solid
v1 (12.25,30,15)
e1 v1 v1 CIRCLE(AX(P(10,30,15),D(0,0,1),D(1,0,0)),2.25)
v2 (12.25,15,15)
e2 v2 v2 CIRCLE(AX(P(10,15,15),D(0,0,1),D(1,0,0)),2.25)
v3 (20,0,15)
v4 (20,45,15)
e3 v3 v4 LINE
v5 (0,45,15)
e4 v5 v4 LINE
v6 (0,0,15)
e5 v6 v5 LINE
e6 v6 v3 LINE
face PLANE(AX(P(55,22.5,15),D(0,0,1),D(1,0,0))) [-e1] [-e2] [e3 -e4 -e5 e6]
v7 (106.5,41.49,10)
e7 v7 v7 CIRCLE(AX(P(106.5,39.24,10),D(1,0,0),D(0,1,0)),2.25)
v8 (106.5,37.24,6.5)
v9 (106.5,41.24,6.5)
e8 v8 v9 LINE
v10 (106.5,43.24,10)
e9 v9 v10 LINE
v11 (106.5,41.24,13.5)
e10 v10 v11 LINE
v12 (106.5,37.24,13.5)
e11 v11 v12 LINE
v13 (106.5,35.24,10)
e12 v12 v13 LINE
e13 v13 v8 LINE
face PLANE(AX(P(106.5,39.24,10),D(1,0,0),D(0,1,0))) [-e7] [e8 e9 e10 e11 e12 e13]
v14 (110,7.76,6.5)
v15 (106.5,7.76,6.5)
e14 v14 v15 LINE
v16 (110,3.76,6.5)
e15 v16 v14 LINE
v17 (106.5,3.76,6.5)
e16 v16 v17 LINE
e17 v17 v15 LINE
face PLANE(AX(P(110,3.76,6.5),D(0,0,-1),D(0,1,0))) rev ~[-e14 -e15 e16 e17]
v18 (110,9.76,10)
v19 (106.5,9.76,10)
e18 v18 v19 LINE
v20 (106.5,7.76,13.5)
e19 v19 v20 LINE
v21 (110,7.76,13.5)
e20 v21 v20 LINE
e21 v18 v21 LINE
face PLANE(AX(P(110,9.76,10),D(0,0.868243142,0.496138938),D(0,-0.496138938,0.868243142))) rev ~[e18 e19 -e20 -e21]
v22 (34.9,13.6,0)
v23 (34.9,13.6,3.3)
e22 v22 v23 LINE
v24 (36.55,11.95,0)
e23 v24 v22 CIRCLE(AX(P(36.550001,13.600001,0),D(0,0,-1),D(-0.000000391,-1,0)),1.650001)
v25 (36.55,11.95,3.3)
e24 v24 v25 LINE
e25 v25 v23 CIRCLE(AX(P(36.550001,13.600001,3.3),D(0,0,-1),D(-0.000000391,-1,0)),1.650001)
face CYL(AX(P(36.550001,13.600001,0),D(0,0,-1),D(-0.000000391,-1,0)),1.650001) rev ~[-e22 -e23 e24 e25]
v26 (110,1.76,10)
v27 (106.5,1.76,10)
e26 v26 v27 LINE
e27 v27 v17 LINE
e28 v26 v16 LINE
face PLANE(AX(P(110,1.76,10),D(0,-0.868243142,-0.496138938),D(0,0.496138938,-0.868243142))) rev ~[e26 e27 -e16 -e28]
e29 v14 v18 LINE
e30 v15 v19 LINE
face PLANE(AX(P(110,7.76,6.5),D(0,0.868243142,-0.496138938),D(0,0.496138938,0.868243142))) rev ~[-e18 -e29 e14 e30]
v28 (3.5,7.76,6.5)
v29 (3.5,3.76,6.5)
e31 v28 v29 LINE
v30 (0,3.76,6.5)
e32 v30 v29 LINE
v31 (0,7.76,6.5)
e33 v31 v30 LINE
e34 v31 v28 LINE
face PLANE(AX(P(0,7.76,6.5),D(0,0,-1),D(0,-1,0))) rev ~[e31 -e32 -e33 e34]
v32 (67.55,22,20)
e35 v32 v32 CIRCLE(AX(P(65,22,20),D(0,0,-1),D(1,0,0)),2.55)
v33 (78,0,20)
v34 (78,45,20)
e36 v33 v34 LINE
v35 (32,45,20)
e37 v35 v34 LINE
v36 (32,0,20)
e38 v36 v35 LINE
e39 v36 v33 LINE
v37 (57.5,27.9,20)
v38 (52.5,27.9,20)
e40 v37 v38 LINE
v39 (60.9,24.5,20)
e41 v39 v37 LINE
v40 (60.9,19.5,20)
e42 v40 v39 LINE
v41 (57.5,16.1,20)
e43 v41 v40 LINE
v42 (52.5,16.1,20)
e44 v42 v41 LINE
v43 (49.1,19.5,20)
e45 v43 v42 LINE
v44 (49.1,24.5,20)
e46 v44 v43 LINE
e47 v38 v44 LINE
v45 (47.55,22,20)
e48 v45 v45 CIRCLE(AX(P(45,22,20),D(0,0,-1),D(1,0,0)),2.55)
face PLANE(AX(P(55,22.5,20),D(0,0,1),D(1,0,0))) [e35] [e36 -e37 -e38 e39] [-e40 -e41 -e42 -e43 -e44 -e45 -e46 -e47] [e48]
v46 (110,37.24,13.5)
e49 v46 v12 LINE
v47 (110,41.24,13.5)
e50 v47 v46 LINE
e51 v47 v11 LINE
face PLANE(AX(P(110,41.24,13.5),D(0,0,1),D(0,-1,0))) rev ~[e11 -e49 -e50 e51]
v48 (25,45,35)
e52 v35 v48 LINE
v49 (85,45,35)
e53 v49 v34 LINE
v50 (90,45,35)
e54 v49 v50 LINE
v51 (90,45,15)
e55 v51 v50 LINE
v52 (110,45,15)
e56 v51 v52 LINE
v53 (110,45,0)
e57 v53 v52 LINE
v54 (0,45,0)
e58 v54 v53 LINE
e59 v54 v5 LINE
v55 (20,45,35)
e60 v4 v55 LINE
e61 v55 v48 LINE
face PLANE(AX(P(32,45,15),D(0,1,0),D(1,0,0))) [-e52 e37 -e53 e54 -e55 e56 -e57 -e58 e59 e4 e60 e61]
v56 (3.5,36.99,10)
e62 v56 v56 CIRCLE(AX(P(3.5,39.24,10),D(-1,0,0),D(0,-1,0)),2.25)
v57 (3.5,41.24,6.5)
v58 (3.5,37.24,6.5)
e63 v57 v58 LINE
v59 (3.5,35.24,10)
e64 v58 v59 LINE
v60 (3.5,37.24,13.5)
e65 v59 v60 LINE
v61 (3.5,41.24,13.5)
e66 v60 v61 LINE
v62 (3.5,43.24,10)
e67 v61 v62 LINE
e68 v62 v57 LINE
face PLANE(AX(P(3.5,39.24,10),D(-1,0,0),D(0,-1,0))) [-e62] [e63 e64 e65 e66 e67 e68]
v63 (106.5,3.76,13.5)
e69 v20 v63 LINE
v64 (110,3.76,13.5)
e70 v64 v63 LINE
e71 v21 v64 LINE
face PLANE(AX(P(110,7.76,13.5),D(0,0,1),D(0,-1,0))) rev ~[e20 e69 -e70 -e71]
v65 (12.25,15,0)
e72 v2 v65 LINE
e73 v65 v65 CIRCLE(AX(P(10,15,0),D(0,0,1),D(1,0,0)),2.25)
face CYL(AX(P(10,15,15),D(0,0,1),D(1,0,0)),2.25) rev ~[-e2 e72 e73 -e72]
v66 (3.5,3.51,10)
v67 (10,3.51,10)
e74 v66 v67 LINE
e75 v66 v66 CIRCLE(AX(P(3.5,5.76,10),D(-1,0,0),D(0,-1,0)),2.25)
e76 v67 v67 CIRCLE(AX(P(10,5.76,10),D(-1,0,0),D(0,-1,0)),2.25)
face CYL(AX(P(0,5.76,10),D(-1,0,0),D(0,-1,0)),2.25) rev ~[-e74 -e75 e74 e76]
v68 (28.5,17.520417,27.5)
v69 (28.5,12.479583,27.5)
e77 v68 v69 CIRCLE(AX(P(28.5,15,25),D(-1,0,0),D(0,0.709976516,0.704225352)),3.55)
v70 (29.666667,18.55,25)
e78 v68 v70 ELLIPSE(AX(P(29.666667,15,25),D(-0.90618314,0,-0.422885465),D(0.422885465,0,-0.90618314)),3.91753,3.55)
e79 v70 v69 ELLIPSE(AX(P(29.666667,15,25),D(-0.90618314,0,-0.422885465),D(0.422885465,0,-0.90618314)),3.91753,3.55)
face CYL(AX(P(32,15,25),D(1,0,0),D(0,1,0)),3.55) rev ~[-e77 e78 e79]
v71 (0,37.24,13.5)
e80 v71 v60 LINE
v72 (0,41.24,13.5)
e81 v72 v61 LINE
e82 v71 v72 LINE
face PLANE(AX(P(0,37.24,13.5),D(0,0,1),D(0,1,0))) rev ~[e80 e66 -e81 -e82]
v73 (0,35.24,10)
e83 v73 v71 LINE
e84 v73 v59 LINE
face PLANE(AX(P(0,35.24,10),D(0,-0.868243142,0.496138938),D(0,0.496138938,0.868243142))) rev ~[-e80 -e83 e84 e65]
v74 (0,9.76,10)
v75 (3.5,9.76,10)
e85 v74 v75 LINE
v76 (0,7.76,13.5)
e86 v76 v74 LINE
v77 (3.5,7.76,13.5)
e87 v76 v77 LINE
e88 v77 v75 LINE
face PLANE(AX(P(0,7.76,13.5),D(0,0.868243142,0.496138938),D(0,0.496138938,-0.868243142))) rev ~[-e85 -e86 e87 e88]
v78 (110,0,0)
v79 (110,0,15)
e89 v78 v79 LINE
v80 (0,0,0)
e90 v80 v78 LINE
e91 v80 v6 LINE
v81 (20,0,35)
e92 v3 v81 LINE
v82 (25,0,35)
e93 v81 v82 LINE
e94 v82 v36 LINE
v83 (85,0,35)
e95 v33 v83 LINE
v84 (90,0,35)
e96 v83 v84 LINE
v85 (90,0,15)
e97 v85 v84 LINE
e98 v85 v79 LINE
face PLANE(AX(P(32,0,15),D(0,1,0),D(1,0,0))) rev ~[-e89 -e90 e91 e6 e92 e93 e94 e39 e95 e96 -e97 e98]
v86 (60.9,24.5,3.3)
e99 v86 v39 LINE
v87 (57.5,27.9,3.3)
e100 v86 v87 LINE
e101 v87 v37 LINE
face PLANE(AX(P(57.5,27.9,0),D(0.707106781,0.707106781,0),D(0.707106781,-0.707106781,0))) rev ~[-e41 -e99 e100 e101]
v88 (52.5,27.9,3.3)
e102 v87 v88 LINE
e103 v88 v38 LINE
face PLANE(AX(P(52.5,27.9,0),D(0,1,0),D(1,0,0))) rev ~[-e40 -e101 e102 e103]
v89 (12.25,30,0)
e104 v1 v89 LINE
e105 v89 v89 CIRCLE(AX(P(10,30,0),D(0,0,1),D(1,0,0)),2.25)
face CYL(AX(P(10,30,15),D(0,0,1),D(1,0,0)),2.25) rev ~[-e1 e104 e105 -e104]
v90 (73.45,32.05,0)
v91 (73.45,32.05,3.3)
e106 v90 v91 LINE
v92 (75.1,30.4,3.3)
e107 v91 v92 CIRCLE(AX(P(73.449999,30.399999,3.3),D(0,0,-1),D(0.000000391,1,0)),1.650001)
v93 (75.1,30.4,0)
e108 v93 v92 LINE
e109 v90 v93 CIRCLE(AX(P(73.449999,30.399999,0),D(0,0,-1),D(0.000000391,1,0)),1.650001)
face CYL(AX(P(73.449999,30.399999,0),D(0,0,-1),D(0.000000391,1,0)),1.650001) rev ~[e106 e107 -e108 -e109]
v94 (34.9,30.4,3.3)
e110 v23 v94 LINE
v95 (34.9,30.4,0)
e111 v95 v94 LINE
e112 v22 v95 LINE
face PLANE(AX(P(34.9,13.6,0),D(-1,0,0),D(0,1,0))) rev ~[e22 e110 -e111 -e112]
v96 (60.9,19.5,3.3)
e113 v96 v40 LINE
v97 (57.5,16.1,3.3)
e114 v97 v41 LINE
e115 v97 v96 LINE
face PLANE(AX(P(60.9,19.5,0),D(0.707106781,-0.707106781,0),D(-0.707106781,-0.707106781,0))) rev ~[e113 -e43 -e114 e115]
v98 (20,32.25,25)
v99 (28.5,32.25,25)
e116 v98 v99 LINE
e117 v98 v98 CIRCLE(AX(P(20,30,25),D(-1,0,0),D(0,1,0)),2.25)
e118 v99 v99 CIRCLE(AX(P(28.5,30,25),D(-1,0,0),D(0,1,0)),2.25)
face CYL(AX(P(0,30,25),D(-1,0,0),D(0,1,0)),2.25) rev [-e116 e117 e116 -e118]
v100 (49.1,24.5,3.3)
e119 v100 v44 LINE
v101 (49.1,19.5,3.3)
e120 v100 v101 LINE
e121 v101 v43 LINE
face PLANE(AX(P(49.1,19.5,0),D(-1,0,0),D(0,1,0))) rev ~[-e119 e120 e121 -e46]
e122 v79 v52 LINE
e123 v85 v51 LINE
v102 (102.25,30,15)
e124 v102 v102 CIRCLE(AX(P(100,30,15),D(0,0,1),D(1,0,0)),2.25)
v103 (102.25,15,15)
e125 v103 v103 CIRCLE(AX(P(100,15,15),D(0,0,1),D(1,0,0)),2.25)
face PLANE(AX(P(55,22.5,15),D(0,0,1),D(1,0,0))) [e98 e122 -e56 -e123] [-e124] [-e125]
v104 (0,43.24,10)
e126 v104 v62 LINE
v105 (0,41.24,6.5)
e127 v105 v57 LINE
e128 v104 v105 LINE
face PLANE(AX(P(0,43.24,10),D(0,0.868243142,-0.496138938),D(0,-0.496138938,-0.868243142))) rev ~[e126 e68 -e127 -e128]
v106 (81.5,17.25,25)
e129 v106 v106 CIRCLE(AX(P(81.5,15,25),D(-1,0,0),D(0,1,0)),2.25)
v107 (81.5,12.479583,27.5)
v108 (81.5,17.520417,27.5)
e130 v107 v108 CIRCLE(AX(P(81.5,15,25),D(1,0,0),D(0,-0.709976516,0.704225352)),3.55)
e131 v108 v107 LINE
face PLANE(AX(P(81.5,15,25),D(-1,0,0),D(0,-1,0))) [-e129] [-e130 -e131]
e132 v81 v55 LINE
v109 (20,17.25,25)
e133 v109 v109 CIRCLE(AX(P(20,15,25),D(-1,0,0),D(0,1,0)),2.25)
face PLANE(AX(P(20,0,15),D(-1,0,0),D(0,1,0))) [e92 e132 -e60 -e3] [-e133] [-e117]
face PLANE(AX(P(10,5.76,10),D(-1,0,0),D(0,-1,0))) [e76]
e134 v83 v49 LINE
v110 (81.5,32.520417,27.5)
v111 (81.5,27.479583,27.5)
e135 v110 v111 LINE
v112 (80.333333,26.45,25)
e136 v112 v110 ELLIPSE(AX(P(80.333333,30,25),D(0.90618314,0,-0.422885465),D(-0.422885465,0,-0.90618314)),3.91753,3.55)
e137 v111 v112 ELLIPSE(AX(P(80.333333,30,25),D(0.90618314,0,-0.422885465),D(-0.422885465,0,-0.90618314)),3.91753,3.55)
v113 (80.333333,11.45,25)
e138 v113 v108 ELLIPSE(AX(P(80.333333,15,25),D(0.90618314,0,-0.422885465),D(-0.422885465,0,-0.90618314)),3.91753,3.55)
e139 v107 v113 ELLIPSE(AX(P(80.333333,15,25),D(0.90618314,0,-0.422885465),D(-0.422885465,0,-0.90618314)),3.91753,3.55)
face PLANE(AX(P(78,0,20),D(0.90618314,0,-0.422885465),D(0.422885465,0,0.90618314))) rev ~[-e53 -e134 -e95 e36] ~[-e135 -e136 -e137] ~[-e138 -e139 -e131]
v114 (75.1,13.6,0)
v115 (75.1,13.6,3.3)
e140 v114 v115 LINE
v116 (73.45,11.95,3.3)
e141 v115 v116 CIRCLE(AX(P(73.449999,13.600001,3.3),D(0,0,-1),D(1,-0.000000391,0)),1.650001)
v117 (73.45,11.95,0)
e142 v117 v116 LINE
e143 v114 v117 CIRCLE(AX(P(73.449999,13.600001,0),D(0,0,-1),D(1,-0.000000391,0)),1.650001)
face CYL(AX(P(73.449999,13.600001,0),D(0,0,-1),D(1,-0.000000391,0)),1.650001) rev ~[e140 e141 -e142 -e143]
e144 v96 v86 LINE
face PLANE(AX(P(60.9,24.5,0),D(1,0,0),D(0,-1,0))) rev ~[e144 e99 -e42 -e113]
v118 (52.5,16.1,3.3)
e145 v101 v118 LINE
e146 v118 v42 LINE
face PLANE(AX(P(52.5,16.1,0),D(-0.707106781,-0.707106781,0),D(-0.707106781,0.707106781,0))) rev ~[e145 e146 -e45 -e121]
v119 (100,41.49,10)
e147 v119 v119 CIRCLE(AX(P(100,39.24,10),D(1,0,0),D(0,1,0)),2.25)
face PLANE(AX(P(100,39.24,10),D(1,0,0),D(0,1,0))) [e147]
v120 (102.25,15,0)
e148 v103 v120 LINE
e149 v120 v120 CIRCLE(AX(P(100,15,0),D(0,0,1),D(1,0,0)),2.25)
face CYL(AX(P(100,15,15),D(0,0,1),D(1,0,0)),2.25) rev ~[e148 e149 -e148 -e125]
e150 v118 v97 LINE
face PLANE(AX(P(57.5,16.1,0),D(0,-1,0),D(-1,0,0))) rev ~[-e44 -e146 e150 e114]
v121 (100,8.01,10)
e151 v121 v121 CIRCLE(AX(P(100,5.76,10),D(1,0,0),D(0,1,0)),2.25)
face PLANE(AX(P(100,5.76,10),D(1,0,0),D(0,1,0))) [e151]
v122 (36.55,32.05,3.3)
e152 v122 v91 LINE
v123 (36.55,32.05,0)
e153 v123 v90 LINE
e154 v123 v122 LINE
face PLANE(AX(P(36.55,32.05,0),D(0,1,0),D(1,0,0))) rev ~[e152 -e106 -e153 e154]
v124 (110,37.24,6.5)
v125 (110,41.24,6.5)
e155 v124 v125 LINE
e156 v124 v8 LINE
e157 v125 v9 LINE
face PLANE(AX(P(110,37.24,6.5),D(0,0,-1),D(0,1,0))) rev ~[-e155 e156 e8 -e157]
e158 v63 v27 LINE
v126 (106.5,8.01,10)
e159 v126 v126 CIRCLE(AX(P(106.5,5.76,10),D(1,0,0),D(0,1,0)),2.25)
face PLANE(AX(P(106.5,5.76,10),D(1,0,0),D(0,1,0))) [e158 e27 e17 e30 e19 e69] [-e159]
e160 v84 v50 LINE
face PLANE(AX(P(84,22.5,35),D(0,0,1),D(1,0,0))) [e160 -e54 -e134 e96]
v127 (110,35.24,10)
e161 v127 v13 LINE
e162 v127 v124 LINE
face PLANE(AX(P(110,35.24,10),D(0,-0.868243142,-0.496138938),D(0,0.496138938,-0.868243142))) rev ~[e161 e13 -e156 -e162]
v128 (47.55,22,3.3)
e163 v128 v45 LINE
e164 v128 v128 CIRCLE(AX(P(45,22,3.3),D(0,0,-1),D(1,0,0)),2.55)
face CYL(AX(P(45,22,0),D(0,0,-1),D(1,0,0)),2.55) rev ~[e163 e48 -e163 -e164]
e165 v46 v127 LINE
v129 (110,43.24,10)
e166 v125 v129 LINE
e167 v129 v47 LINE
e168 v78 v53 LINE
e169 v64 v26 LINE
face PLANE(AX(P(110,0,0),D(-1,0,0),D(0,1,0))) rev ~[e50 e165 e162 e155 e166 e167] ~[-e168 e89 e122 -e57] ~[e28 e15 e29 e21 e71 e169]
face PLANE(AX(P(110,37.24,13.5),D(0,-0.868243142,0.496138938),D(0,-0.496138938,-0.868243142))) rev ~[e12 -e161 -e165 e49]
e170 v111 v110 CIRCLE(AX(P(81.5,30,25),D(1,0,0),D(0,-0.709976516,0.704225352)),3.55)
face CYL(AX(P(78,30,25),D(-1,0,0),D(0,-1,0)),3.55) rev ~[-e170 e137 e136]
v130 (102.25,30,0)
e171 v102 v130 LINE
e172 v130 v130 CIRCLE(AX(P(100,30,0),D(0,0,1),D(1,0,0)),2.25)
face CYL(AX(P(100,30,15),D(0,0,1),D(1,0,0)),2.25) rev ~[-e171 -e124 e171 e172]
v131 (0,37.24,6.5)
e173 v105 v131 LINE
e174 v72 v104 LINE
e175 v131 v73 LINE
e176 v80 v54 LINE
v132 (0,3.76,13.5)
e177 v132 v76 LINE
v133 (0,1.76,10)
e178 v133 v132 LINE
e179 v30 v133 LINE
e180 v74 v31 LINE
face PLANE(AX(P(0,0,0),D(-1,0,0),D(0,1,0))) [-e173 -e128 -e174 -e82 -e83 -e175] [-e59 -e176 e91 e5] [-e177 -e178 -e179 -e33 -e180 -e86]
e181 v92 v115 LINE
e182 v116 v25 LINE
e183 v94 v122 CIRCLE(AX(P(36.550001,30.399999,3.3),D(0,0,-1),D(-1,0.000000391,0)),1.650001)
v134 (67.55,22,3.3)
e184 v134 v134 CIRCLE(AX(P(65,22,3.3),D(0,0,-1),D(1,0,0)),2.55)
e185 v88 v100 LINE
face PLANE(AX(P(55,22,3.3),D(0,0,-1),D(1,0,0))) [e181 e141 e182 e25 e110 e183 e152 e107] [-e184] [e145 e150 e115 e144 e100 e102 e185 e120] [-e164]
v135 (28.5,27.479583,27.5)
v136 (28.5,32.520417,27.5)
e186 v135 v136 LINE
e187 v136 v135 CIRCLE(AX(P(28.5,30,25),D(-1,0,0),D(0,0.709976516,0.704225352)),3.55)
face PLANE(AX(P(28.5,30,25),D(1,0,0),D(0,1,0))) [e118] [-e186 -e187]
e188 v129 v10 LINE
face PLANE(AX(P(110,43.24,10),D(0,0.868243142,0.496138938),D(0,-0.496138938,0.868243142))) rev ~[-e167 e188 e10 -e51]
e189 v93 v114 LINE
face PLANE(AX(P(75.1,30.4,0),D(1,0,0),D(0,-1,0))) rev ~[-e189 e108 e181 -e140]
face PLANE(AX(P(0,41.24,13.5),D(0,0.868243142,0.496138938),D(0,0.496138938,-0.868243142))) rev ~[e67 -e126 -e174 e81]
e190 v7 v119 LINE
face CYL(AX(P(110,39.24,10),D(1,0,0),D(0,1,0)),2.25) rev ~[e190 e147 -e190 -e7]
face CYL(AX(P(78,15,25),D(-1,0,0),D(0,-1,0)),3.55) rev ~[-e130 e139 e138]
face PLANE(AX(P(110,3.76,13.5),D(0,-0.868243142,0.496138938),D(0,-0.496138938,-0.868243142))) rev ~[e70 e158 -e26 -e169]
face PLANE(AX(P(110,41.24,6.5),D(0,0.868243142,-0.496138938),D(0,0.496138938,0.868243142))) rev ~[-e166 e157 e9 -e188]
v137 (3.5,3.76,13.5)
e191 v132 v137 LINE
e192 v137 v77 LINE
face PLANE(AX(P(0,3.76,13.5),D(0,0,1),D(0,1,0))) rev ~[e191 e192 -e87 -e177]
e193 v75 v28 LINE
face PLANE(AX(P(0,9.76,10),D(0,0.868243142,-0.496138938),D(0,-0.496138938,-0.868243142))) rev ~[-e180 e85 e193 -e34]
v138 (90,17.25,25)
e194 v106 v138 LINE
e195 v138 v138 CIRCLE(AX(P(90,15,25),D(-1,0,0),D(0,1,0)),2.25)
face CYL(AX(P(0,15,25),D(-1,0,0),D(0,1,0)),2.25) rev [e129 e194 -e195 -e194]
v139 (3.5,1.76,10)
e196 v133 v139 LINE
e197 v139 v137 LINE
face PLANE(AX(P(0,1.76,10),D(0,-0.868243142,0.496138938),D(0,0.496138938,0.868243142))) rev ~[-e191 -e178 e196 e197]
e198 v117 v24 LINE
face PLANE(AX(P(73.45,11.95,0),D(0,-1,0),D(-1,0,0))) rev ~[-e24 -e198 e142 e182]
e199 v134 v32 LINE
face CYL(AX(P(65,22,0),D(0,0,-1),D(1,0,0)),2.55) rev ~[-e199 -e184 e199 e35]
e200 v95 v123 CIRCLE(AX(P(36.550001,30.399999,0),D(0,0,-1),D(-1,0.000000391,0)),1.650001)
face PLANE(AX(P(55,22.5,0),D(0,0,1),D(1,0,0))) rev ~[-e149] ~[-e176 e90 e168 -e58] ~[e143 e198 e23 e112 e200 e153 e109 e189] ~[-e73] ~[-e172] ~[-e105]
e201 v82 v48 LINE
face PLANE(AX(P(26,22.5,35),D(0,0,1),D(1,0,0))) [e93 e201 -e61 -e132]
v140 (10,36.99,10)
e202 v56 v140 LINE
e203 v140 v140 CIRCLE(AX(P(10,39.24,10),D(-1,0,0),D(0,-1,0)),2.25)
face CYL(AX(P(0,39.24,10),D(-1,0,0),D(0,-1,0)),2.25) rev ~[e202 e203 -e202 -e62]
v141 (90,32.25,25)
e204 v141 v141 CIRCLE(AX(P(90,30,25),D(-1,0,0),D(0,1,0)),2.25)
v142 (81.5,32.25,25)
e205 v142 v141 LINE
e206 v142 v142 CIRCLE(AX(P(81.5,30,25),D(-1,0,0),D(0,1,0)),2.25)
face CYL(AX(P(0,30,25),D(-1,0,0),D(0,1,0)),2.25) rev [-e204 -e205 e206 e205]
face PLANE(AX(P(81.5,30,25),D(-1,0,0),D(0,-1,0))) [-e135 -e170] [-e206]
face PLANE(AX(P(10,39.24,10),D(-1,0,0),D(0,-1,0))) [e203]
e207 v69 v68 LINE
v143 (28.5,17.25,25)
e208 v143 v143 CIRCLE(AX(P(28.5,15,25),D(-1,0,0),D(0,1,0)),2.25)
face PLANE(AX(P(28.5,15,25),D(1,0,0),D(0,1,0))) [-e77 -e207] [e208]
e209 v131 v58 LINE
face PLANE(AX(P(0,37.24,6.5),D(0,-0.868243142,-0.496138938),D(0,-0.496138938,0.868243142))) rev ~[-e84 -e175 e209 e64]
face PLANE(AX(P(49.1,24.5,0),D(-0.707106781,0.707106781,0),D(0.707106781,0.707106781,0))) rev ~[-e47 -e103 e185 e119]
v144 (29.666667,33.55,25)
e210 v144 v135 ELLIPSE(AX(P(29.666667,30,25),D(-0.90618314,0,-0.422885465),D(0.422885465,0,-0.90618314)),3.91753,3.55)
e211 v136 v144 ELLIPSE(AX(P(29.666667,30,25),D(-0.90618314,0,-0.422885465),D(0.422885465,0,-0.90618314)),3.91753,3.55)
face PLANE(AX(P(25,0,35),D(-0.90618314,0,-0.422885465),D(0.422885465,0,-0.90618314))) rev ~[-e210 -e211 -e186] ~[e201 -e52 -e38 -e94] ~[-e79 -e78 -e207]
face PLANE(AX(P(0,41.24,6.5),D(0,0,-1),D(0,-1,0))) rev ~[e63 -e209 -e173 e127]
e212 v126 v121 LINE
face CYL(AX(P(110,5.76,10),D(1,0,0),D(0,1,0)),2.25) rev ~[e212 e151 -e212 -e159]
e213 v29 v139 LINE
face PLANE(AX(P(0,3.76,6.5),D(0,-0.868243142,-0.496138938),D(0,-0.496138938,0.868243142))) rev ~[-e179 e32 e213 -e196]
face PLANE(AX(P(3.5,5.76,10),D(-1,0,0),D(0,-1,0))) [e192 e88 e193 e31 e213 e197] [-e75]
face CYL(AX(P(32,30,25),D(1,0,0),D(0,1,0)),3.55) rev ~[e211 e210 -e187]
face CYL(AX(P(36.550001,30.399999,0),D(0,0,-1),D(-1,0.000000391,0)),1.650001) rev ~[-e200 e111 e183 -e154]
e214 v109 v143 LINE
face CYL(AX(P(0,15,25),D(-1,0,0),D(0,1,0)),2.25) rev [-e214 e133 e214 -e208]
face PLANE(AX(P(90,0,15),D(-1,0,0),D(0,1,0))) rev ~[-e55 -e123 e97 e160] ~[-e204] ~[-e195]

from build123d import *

# Parameters (mm, degrees)
F0_W      = 110
F0_H      = 45
F1_DEPTH  = 15
F2_W      = 12
F2_H      = 45
F3_DEPTH  = 20
F4_R      = 2.25
F5_DEPTH  = 110.001
F6_R      = 2.25
F7_DEPTH  = 15.001
F8_R      = 2.25
F9_DEPTH  = 15.001
F10_R     = 3.55
F11_DEPTH = 3.5
F12_R     = 3.55
F13_DEPTH = 3.5
F3_FACE_W = 46
F3_FACE_H = 45
F14_DEPTH = 5
F16_DEPTH = 45.001
F17_R     = 2.55
F18_DEPTH = 35.001
F20_DEPTH = 3.3
F21_R     = 2.25
F22_DEPTH = 10
F24_DEPTH = 3.5
F25_R     = 2.25
F26_DEPTH = 10
F28_DEPTH = 3.5


with BuildPart() as f1:
    # F0 (on Top) → F1 (new body)
    with BuildSketch(Plane.XY):
        with Locations((55, 22.5)):
            Rectangle(F0_W, F0_H)
    extrude(amount=F1_DEPTH)

    # F2 (on face) → F3 (join)
    with BuildSketch(Plane.XY.offset(15)):
        with Locations((26, 22.5)):
            Rectangle(F2_W, F2_H)
        with Locations((84, 22.5)):
            Rectangle(F2_W, F2_H)
    extrude(amount=F3_DEPTH)

    # F4 (on Right) → F5 (cut, through all)
    with BuildSketch(Plane.YZ):
        with Locations((15, 25)):
            Circle(F4_R)
        with Locations((30, 25)):
            Circle(F4_R)
    extrude(amount=F5_DEPTH, mode=Mode.SUBTRACT)

    # F6 (on face) → F7 (cut, through all)
    with BuildSketch(Plane.XY.offset(15)):
        with Locations((10, 30)):
            Circle(F6_R)
        with Locations((10, 15)):
            Circle(F6_R)
    extrude(amount=-F7_DEPTH, mode=Mode.SUBTRACT)

    # F8 (on face) → F9 (cut, through all)
    with BuildSketch(Plane.XY.offset(15)):
        with Locations((100, 30)):
            Circle(F8_R)
        with Locations((100, 15)):
            Circle(F8_R)
    extrude(amount=-F9_DEPTH, mode=Mode.SUBTRACT)

    # F10 (on face) → F11 (cut)
    with BuildSketch(Plane(origin=(78, 0, 0), x_dir=(0, -1, 0), z_dir=(-1, 0, 0))):
        with Locations((-30, 25)):
            Circle(F10_R)
        with Locations((-15, 25)):
            Circle(F10_R)
    extrude(amount=-F11_DEPTH, mode=Mode.SUBTRACT)

    # F12 (on face) → F13 (cut)
    with BuildSketch(Plane.YZ.offset(32)):
        with Locations((15, 25)):
            Circle(F12_R)
        with Locations((30, 25)):
            Circle(F12_R)
    extrude(amount=-F13_DEPTH, mode=Mode.SUBTRACT)

    # F3_face (on face) → F14 (join)
    with BuildSketch(Plane(origin=(55, 22.5, 15), x_dir=(1, 0, 0), z_dir=(0, 0, 1))):
        Rectangle(F3_FACE_W, F3_FACE_H)
    extrude(amount=F14_DEPTH)

    # F15 (on face) → F16 (cut, through all)
    with BuildSketch(Plane.XZ):
        Polygon((32, 20), (32, 35), (25, 35), align=None)
        Polygon((85, 35), (78, 35), (78, 20), align=None)
    extrude(amount=-F16_DEPTH, mode=Mode.SUBTRACT)

    # F17 (on face) → F18 (cut, through all)
    with BuildSketch(Plane(origin=(0, 0, 0), x_dir=(1, 0, 0), z_dir=(0, 0, -1))):
        Polygon((57.5, -16.1), (55, -16.1), (52.5, -16.1), (49.1, -19.5), (49.1, -22), (49.1, -24.5), (52.5, -27.9), (55, -27.9), (57.5, -27.9), (60.9, -24.5), (60.9, -22), (60.9, -19.5), align=None)
        with Locations((45, -22)):
            Circle(F17_R)
        with Locations((65, -22)):
            Circle(F17_R)
    extrude(amount=-F18_DEPTH, mode=Mode.SUBTRACT)

    # F19 (on face) → F20 (cut)
    with BuildSketch(Plane(origin=(0, 0, 0), x_dir=(1, 0, 0), z_dir=(0, 0, -1))):
        with BuildLine():
            Line((73.45, -11.95), (55, -11.95))
            Line((55, -11.95), (36.55, -11.95))
            ThreePointArc((36.55, -11.95), (35.383274, -12.433274), (34.9, -13.6))
            Line((34.9, -13.6), (34.9, -30.4))
            ThreePointArc((34.9, -30.4), (35.383274, -31.566726), (36.55, -32.05))
            Line((36.55, -32.05), (73.45, -32.05))
            ThreePointArc((73.45, -32.05), (74.616726, -31.566726), (75.1, -30.4))
            Line((75.1, -30.4), (75.1, -13.6))
            ThreePointArc((75.1, -13.6), (74.616726, -12.433274), (73.45, -11.95))
        make_face()
    extrude(amount=-F20_DEPTH, mode=Mode.SUBTRACT)

    # F21 (on face) → F22 (cut)
    with BuildSketch(Plane(origin=(0, 0, 0), x_dir=(0, -1, 0), z_dir=(-1, 0, 0))):
        with Locations((-39.24, 10)):
            Circle(F21_R)
        with Locations((-5.76, 10)):
            Circle(F21_R)
    extrude(amount=-F22_DEPTH, mode=Mode.SUBTRACT)

    # F23 (on face) → F24 (cut)
    with BuildSketch(Plane(origin=(0, 0, 0), x_dir=(0, -1, 0), z_dir=(-1, 0, 0))):
        Polygon((-37.24, 13.5), (-39.24, 13.5), (-41.24, 13.5), (-43.24, 10), (-41.24, 6.5), (-39.24, 6.5), (-37.24, 6.5), (-35.24, 10), align=None)
        Polygon((-3.76, 13.5), (-5.76, 13.5), (-7.76, 13.5), (-9.76, 10), (-7.76, 6.5), (-5.76, 6.5), (-3.76, 6.5), (-1.76, 10), align=None)
    extrude(amount=-F24_DEPTH, mode=Mode.SUBTRACT)

    # F25 (on face) → F26 (cut)
    with BuildSketch(Plane.YZ.offset(110)):
        with Locations((5.76, 10)):
            Circle(F25_R)
        with Locations((39.24, 10)):
            Circle(F25_R)
    extrude(amount=-F26_DEPTH, mode=Mode.SUBTRACT)

    # F27 (on face) + F25 (on face) → F28 (cut)
    with BuildSketch(Plane.YZ.offset(110)):
        Polygon((7.76, 13.5), (5.76, 13.5), (3.76, 13.5), (1.76, 10), (3.76, 6.5), (5.76, 6.5), (7.76, 6.5), (9.76, 10), align=None)
        Polygon((37.24, 6.5), (39.24, 6.5), (41.24, 6.5), (43.24, 10), (41.24, 13.5), (39.24, 13.5), (37.24, 13.5), (35.24, 10), align=None)
    with BuildSketch(Plane.YZ.offset(110)):
        with Locations((5.76, 10)):
            Circle(F25_R)
        with Locations((39.24, 10)):
            Circle(F25_R)
    extrude(amount=-F28_DEPTH, mode=Mode.SUBTRACT)


solid = f1.part
